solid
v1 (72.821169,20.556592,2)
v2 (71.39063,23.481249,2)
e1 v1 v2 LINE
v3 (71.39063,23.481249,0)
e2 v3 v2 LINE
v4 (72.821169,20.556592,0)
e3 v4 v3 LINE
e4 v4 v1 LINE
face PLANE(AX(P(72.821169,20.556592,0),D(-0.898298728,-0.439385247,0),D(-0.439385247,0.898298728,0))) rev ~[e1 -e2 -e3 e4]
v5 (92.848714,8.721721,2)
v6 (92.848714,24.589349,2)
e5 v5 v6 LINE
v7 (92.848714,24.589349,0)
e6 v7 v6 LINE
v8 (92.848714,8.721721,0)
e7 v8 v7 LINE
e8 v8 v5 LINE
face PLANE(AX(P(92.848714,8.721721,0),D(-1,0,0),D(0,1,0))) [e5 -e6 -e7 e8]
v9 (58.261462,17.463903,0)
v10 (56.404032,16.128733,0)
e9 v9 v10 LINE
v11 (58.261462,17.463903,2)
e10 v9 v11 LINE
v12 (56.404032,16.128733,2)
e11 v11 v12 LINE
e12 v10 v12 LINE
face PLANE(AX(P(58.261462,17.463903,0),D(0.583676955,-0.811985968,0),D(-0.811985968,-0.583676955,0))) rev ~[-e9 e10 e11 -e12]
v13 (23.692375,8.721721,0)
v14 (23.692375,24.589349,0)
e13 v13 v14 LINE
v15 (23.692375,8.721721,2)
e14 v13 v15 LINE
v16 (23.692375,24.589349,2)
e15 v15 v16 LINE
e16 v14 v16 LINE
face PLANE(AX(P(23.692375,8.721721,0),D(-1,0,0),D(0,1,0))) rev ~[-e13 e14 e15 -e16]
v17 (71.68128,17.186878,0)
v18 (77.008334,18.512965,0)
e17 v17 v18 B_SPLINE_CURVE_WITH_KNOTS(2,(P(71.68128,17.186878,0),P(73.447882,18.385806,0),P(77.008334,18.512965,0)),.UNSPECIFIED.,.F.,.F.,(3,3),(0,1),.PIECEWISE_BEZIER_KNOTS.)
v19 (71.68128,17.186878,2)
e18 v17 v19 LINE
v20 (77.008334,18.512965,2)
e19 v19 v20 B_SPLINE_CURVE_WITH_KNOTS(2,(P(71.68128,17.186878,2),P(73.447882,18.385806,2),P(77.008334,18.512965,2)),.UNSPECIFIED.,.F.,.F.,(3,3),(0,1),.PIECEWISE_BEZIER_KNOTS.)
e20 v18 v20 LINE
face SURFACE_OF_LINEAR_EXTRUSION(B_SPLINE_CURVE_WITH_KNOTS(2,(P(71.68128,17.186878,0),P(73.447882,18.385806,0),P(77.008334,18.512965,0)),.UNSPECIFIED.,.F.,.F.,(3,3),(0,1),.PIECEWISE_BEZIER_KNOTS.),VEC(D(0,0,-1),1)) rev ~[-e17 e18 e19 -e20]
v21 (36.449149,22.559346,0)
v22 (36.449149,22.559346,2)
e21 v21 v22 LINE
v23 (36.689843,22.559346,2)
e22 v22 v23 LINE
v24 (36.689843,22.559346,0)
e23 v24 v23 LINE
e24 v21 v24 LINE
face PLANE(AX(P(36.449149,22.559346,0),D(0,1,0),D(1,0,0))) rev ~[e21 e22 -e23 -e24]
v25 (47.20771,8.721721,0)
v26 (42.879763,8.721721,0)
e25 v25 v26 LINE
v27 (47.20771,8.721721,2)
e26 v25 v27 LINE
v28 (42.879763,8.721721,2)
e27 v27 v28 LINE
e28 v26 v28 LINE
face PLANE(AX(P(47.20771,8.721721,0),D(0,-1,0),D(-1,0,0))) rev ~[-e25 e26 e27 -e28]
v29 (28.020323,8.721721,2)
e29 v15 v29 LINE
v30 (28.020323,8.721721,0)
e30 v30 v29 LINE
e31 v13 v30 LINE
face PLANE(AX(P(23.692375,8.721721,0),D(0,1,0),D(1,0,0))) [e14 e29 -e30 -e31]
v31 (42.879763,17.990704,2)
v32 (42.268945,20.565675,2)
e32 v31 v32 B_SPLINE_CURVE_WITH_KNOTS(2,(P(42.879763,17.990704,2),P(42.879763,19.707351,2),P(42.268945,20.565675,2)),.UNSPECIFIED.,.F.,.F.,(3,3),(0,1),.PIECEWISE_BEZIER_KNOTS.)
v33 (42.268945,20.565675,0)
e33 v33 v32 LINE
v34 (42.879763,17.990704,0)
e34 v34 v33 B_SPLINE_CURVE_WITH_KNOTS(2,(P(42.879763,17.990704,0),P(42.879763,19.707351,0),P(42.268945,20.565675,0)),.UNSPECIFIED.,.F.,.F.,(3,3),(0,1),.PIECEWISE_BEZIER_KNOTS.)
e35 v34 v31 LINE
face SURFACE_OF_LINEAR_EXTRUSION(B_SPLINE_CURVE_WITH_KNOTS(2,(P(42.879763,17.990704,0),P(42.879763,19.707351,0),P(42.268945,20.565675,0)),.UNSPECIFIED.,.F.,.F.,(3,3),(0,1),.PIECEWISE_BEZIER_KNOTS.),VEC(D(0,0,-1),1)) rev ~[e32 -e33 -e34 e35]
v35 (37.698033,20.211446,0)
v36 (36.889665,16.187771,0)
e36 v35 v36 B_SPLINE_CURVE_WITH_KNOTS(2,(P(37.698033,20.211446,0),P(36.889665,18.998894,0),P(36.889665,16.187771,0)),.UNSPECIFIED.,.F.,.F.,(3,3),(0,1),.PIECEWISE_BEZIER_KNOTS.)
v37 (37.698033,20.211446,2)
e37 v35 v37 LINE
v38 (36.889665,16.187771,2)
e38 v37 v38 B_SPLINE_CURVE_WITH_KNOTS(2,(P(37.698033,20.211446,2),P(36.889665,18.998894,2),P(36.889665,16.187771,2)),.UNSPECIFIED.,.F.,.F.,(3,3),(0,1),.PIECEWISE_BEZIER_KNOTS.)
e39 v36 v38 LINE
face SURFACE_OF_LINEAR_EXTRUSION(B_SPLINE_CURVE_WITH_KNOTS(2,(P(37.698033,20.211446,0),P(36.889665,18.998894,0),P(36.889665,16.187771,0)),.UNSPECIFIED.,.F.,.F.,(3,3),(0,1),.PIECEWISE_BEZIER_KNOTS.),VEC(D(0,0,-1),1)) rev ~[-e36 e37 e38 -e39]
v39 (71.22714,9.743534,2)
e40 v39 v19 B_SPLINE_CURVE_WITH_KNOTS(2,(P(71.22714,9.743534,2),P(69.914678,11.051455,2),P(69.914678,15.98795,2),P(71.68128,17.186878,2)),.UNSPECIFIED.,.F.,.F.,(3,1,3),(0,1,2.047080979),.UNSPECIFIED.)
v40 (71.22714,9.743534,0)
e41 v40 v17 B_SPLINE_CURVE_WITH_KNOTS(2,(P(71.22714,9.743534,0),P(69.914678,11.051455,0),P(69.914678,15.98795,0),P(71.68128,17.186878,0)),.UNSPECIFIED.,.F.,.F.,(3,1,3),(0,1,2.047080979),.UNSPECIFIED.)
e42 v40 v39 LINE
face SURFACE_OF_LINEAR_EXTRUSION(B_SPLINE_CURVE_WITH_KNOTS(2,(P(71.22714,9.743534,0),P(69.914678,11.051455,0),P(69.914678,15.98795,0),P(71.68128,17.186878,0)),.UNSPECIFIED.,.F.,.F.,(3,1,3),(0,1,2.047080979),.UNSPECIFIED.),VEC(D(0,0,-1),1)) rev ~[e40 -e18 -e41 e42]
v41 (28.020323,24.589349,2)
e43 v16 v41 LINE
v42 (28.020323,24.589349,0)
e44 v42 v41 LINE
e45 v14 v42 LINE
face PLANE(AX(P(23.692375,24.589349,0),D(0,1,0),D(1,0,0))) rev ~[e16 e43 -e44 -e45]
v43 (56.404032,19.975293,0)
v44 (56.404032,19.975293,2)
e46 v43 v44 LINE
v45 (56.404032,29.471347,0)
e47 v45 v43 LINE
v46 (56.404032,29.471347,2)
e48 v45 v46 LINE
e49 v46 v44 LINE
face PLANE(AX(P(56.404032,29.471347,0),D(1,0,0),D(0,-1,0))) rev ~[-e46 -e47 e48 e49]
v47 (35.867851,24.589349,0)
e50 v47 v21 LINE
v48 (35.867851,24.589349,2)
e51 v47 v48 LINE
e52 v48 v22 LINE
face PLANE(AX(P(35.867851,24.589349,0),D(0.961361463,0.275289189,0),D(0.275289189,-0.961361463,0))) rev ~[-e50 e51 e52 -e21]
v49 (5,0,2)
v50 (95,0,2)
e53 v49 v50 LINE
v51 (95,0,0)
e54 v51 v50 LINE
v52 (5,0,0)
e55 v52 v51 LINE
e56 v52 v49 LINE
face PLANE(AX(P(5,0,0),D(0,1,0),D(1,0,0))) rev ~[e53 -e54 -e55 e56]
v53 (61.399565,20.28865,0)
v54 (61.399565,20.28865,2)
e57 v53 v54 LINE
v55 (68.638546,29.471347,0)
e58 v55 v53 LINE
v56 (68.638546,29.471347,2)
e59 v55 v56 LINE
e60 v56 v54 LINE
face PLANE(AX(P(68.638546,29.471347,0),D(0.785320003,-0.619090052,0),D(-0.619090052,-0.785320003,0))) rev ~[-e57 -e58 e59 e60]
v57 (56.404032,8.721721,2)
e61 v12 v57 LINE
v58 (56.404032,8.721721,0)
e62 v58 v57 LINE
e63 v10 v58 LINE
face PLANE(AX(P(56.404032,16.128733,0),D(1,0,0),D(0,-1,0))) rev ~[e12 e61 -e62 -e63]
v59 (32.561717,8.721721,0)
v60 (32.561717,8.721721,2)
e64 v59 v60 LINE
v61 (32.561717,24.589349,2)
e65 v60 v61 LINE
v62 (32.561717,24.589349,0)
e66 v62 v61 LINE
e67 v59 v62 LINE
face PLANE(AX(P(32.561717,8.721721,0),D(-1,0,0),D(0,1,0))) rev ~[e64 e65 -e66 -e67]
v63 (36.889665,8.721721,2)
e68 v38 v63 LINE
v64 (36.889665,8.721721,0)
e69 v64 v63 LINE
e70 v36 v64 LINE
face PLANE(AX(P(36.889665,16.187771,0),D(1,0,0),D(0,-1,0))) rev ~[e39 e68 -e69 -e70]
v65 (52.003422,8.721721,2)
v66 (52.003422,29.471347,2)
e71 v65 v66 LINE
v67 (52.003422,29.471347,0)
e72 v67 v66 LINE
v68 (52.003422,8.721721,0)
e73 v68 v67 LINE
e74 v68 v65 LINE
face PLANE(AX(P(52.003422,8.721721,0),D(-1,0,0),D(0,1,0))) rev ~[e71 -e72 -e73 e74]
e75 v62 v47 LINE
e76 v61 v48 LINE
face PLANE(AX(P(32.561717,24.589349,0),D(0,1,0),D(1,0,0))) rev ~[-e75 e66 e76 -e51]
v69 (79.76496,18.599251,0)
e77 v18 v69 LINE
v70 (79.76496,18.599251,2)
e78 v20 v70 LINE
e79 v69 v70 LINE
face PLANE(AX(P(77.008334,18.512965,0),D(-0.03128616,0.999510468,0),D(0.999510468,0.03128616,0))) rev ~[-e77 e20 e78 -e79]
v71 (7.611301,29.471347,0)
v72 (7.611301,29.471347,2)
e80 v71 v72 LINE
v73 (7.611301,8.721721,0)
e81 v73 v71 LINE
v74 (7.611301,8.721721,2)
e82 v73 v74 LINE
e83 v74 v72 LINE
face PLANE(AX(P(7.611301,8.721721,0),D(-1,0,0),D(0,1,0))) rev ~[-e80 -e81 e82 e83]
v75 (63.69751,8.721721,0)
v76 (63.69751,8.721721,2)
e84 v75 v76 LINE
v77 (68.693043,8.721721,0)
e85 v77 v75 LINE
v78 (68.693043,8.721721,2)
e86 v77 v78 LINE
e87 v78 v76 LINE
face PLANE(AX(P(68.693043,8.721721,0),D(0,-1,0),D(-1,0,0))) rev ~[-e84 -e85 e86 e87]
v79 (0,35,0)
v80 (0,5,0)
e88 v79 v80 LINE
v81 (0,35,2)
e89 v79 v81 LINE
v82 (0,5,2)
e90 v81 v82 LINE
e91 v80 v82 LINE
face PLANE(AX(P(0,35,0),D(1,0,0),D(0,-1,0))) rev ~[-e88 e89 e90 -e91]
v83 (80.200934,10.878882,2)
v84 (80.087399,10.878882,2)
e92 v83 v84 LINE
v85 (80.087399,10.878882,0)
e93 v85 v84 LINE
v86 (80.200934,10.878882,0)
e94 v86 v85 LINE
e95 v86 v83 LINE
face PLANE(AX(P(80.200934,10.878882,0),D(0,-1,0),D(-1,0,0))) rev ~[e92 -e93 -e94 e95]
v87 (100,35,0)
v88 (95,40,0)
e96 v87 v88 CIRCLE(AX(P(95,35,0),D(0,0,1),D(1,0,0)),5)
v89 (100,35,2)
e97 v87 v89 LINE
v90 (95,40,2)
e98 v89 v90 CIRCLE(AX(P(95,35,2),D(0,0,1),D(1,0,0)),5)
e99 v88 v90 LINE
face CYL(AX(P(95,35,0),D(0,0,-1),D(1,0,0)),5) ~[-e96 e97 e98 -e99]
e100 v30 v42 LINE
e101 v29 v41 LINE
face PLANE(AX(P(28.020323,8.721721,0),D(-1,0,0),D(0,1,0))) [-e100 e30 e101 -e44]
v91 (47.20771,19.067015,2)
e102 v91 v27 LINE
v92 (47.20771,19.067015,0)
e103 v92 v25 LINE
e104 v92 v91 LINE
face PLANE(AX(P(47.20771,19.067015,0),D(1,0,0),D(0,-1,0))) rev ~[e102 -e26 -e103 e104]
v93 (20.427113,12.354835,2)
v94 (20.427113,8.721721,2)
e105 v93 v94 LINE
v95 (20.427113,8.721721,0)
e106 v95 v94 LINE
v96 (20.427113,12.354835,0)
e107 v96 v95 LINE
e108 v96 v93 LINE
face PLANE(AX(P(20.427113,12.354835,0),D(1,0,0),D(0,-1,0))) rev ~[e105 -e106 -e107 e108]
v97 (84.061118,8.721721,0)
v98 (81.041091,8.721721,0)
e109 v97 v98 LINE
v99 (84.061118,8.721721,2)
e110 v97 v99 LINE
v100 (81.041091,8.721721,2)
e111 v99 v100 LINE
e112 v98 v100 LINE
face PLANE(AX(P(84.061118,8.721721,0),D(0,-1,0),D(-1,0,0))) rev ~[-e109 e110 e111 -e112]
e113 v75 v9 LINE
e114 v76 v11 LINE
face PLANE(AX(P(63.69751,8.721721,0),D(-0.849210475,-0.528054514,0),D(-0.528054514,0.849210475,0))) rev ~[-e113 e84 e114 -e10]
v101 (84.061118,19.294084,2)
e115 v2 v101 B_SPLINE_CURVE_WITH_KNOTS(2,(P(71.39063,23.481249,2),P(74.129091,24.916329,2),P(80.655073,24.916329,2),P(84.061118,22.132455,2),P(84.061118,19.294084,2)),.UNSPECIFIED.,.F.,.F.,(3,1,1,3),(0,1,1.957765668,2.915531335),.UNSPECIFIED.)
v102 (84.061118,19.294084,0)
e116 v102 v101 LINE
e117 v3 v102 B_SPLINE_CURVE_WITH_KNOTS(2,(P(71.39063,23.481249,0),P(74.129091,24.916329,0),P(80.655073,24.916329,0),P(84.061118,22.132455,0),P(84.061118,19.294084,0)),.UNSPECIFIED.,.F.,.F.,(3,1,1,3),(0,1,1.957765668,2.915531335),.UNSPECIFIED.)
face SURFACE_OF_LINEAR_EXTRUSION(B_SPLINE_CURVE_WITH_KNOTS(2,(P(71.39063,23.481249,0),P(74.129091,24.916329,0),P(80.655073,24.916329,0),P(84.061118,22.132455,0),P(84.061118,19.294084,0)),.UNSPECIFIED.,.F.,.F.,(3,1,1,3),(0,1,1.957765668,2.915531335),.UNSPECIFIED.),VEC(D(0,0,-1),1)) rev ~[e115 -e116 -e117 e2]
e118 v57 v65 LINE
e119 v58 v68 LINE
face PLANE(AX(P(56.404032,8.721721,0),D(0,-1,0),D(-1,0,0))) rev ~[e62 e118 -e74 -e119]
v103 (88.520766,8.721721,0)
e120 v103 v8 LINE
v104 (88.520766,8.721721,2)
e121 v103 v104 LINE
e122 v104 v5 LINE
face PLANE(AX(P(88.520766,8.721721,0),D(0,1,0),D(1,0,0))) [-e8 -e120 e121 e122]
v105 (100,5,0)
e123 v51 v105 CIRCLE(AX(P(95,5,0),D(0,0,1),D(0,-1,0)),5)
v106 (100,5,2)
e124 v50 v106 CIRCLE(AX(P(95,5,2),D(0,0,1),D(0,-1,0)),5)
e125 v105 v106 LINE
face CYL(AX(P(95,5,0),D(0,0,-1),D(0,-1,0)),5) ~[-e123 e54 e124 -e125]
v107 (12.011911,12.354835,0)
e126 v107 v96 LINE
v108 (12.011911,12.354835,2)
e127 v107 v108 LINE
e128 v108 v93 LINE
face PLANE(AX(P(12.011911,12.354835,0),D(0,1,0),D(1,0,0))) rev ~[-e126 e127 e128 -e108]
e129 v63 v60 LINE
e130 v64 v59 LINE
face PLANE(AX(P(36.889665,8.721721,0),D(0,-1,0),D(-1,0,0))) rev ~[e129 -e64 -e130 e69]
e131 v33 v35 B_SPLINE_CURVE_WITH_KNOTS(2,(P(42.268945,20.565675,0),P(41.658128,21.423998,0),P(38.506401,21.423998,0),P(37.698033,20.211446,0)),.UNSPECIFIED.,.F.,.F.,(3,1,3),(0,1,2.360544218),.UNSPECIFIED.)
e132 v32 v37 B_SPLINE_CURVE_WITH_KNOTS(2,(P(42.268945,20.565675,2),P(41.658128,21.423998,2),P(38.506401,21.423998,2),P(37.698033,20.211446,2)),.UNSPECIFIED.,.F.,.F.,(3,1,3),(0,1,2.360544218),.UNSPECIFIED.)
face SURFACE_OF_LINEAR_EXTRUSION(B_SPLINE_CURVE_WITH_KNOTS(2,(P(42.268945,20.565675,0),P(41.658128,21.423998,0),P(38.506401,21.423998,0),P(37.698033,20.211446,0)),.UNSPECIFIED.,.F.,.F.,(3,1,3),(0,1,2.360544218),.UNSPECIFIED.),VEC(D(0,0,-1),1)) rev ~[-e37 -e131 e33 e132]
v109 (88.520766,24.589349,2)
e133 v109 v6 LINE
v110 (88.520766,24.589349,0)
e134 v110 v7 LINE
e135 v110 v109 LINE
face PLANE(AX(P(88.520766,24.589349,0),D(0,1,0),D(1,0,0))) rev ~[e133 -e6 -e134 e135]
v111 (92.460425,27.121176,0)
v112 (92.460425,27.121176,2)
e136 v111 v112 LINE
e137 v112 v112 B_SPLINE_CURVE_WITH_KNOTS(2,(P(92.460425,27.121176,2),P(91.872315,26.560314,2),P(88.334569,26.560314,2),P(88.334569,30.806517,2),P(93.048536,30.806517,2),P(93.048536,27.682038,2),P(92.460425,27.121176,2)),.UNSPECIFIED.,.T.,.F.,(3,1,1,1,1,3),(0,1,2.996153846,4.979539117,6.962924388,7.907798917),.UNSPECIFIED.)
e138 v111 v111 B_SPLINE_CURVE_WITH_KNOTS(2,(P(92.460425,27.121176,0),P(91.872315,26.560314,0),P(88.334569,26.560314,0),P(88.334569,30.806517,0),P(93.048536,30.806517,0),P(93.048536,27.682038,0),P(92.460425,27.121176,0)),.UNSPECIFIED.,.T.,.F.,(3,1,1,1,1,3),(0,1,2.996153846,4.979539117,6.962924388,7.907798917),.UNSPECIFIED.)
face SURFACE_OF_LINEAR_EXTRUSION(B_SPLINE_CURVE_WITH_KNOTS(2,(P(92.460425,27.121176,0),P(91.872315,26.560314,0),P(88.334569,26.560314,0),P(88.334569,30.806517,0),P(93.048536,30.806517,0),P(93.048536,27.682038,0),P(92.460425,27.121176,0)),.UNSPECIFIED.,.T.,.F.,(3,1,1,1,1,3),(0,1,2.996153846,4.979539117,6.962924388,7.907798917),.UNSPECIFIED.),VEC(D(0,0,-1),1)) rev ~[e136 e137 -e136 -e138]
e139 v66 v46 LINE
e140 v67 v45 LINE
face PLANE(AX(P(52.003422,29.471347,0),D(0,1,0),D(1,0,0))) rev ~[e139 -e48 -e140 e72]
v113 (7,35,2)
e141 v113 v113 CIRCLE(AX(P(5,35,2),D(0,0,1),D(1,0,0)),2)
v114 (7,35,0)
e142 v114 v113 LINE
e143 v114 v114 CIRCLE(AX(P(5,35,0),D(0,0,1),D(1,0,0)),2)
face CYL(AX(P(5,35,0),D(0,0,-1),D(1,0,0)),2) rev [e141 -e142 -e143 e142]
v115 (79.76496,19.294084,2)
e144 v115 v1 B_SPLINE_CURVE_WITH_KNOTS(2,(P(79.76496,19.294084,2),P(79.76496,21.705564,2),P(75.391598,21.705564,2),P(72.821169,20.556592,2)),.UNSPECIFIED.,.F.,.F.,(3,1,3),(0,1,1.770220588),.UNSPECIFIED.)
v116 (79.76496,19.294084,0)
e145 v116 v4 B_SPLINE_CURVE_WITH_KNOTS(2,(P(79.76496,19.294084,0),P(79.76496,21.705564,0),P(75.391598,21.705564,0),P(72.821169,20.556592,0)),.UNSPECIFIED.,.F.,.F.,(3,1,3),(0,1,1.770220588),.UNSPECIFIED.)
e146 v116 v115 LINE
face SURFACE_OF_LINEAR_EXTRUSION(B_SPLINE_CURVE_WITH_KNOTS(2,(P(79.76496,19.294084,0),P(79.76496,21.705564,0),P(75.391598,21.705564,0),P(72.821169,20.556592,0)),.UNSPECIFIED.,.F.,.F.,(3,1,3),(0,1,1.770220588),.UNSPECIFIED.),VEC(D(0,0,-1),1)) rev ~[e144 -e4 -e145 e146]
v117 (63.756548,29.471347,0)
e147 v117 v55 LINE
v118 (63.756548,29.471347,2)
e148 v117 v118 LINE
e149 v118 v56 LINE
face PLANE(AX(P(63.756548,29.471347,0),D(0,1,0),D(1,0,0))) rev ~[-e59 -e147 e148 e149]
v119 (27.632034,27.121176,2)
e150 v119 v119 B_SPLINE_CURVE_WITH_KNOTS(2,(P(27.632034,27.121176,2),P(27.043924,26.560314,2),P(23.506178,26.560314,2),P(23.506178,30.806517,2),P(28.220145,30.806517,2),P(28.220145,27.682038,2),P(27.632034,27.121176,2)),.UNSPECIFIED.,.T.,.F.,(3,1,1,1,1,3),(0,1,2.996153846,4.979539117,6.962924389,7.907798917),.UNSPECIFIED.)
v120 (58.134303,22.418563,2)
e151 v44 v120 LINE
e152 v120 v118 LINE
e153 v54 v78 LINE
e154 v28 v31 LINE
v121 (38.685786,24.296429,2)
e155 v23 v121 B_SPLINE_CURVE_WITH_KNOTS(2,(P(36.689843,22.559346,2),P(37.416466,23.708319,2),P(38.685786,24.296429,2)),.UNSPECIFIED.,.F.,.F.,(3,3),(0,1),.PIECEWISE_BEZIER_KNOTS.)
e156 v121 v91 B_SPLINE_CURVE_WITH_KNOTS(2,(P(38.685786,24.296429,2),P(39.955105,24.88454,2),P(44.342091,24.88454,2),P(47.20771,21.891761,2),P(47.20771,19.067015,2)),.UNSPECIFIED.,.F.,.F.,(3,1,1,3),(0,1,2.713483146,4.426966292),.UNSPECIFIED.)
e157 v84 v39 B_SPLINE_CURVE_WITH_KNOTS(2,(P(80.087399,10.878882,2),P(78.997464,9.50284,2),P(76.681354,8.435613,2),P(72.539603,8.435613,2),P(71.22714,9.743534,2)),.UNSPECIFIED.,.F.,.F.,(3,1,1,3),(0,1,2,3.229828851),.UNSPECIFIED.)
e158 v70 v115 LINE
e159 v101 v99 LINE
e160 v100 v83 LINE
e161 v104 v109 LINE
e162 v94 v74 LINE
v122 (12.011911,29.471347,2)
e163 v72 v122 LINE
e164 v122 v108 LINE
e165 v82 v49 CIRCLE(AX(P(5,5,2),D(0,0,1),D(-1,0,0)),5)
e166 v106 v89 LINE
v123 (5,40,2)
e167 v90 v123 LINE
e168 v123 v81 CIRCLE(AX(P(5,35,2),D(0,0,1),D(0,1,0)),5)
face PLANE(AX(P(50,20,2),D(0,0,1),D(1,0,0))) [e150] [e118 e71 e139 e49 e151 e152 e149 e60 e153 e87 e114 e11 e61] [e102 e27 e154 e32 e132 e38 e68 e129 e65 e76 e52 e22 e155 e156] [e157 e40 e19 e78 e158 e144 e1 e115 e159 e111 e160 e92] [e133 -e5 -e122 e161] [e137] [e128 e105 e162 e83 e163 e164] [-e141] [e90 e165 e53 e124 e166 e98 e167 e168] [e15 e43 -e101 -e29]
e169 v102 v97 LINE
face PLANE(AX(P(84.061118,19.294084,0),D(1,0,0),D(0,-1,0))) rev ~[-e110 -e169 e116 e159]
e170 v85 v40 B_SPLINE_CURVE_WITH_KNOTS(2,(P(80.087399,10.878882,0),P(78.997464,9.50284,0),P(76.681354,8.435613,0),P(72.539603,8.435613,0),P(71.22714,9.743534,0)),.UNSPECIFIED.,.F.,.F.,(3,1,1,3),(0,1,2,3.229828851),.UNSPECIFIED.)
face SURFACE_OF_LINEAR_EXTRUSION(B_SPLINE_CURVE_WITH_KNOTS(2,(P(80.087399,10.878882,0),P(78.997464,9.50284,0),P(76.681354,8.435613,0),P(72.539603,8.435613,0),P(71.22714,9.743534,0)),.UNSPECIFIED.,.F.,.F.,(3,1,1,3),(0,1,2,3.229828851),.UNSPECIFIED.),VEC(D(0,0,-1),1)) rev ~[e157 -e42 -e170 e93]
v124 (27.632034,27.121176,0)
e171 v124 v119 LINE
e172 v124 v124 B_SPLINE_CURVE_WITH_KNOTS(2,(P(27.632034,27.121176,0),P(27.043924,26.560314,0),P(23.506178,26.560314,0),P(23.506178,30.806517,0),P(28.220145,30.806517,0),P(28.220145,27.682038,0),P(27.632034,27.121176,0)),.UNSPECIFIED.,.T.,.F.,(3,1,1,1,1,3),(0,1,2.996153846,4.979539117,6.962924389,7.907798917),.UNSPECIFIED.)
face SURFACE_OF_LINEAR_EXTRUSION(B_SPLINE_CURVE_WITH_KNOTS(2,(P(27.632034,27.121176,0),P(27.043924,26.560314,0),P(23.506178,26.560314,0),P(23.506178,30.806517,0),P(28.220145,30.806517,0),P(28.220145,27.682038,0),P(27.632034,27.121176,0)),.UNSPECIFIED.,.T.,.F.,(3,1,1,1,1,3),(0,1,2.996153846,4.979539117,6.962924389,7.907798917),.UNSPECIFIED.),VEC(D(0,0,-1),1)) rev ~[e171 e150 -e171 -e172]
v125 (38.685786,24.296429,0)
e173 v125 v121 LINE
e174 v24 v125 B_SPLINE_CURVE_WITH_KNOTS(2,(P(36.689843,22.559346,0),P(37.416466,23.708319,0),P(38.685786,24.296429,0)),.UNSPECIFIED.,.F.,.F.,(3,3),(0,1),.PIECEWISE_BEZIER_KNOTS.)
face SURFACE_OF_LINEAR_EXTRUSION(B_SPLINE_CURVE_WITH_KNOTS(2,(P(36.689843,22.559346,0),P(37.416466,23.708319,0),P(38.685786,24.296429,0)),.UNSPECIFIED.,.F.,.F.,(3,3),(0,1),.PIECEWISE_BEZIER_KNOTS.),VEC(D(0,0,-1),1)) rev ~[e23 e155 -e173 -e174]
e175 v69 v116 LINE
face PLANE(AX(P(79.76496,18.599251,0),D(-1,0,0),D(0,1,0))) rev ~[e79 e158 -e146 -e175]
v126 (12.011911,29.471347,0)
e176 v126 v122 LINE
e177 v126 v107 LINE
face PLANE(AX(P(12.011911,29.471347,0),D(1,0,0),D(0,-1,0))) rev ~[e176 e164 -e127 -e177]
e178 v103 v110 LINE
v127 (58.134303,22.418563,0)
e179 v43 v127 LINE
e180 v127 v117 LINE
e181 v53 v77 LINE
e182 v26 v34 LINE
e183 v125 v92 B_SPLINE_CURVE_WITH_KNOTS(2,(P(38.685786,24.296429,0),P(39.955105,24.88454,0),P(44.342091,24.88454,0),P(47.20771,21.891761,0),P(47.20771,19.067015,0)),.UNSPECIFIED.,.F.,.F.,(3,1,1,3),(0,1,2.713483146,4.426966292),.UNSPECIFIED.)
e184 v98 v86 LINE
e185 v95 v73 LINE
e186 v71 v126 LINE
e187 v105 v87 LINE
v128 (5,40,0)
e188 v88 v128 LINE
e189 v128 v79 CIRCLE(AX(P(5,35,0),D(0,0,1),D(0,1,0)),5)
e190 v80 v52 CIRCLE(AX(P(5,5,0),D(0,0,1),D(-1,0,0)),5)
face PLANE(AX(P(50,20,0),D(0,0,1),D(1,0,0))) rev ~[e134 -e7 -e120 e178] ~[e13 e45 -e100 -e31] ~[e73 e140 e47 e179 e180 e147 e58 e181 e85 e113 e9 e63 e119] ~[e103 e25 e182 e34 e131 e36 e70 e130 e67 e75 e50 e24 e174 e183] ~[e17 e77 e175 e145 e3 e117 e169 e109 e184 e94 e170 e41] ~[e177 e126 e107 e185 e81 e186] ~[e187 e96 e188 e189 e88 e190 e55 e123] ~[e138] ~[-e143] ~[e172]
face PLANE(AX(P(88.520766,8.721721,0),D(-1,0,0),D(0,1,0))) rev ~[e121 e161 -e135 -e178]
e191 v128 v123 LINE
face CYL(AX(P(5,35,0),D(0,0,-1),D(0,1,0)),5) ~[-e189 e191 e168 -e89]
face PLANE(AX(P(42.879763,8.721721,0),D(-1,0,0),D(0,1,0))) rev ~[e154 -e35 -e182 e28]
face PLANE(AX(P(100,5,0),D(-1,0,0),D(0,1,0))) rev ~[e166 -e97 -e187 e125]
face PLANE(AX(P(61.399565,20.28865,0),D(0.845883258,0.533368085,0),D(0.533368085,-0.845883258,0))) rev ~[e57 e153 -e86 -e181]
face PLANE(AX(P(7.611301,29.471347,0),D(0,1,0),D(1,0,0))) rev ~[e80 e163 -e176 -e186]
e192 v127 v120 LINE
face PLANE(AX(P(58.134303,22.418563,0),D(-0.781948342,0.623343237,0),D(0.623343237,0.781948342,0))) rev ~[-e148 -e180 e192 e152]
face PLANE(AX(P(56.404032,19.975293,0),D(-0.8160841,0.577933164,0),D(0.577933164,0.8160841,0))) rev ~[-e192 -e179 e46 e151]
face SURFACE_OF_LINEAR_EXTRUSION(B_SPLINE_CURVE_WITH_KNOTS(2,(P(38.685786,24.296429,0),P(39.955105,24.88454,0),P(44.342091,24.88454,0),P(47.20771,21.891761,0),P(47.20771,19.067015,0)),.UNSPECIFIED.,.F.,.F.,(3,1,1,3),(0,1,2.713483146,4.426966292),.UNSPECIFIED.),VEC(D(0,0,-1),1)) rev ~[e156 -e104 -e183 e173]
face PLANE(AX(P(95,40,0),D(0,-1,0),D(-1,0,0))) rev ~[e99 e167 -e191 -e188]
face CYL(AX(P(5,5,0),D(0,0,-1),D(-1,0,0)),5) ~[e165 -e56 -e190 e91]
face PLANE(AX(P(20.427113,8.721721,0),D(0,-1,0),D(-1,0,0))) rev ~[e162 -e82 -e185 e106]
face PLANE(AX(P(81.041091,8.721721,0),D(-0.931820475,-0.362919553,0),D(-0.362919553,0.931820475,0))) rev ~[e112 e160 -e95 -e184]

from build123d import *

# Parameters (mm, degrees)
F0_W     = 4.3279479289
F0_H     = 15.8676286083
F0_R     = 2
F1_DEPTH = 2


with BuildPart() as f1:
    # F0 (on Top) → F1 (new body)
    with BuildSketch(Plane.XY):
        with BuildLine():
            ThreePointArc((0, 5), (1.4644660941, 1.4644660941), (5, 0))
            Line((5, 0), (95, 0))
            ThreePointArc((95, 0), (98.5355339059, 1.4644660941), (100, 5))
            Line((100, 5), (100, 35))
            ThreePointArc((100, 35), (98.5355339059, 38.5355339059), (95, 40))
            Line((95, 40), (5, 40))
            ThreePointArc((5, 40), (1.4644660941, 38.5355339059), (0, 35))
            Line((0, 35), (0, 5))
        make_face()
        Polygon((20.4271134466, 8.7217205013), (7.6113012163, 8.7217205013), (7.6113012163, 29.4713470357), (12.0119114399, 29.4713470357), (12.0119114399, 12.3548352371), (20.4271134466, 12.3548352371), align=None, mode=Mode.SUBTRACT)
        with Locations((25.8563492798, 16.6555348055)):
            Rectangle(F0_W, F0_H, mode=Mode.SUBTRACT)
        with BuildLine():
            Line((47.2077104423, 19.0670147113), (47.2077104423, 8.7217205013))
            Line((47.2077104423, 8.7217205013), (42.8797625133, 8.7217205013))
            Line((42.8797625133, 8.7217205013), (42.8797625133, 17.9907044709))
            add(Edge.make_bspline(
                [(42.8797625133, 17.9907044709), (42.8797625133, 19.7073511835), (42.2689450984, 20.5656745398)],
                knots=[0, 0, 0, 1, 1, 1], degree=2))
            add(Edge.make_bspline(
                [(42.2689450984, 20.5656745398), (41.6581276834, 21.4239978961), (40.3229580181, 21.4239978961)],
                knots=[0, 0, 0, 1, 1, 1], degree=2))
            add(Edge.make_bspline(
                [(40.3229580181, 21.4239978961), (38.5064006502, 21.4239978961), (37.6980326215, 20.2114458531)],
                knots=[0, 0, 0, 1, 1, 1], degree=2))
            add(Edge.make_bspline(
                [(37.6980326215, 20.2114458531), (36.8896645928, 18.99889381), (36.8896645928, 16.1877712833)],
                knots=[0, 0, 0, 1, 1, 1], degree=2))
            Line((36.8896645928, 16.1877712833), (36.8896645928, 8.7217205013))
            Line((36.8896645928, 8.7217205013), (32.5617166639, 8.7217205013))
            Line((32.5617166639, 8.7217205013), (32.5617166639, 24.5893491096))
            Line((32.5617166639, 24.5893491096), (35.8678510734, 24.5893491096))
            Line((35.8678510734, 24.5893491096), (36.4491494311, 22.559346251))
            Line((36.4491494311, 22.559346251), (36.6898432823, 22.559346251))
            add(Edge.make_bspline(
                [(36.6898432823, 22.559346251), (37.4164662295, 23.7083187862), (38.6857856903, 24.296429234)],
                knots=[0, 0, 0, 1, 1, 1], degree=2))
            add(Edge.make_bspline(
                [(38.6857856903, 24.296429234), (39.9551051511, 24.8845396819), (41.5718412085, 24.8845396819)],
                knots=[0, 0, 0, 1, 1, 1], degree=2))
            add(Edge.make_bspline(
                [(41.5718412085, 24.8845396819), (44.3420911945, 24.8845396819), (45.7749008184, 23.3881505501)],
                knots=[0, 0, 0, 1, 1, 1], degree=2))
            add(Edge.make_bspline(
                [(45.7749008184, 23.3881505501), (47.2077104423, 21.8917614183), (47.2077104423, 19.0670147113)],
                knots=[0, 0, 0, 1, 1, 1], degree=2))
        make_face(mode=Mode.SUBTRACT)
        Polygon((61.3995648787, 20.2886495412), (68.6930427106, 8.7217205013), (63.697509949, 8.7217205013), (58.2614620257, 17.4639028342), (56.4040321171, 16.1287331688), (56.4040321171, 8.7217205013), (52.0034218934, 8.7217205013), (52.0034218934, 29.4713470357), (56.4040321171, 29.4713470357), (56.4040321171, 19.9752933952), (58.1343030099, 22.418563055), (63.7565480635, 29.4713470357), (68.6385459896, 29.4713470357), align=None, mode=Mode.SUBTRACT)
        with BuildLine():
            Line((84.0611180428, 8.7217205013), (81.0410914187, 8.7217205013))
            Line((81.0410914187, 8.7217205013), (80.200933636, 10.8788823757))
            Line((80.200933636, 10.8788823757), (80.0873988006, 10.8788823757))
            add(Edge.make_bspline(
                [(80.0873988006, 10.8788823757), (78.9974643798, 9.5028401695), (77.8394090578, 8.9692264427)],
                knots=[0, 0, 0, 1, 1, 1], degree=2))
            add(Edge.make_bspline(
                [(77.8394090578, 8.9692264427), (76.6813537358, 8.4356127159), (74.8239238272, 8.4356127159)],
                knots=[0, 0, 0, 1, 1, 1], degree=2))
            add(Edge.make_bspline(
                [(74.8239238272, 8.4356127159), (72.5396029371, 8.4356127159), (71.2271402388, 9.7435340208)],
                knots=[0, 0, 0, 1, 1, 1], degree=2))
            add(Edge.make_bspline(
                [(71.2271402388, 9.7435340208), (69.9146775405, 11.0514553256), (69.9146775405, 13.4629352315)],
                knots=[0, 0, 0, 1, 1, 1], degree=2))
            add(Edge.make_bspline(
                [(69.9146775405, 13.4629352315), (69.9146775405, 15.9879499728), (71.6812795808, 17.1868778356)],
                knots=[0, 0, 0, 1, 1, 1], degree=2))
            add(Edge.make_bspline(
                [(71.6812795808, 17.1868778356), (73.447881621, 18.3858056984), (77.008334062, 18.5129647141)],
                knots=[0, 0, 0, 1, 1, 1], degree=2))
            Line((77.008334062, 18.5129647141), (79.7649598678, 18.5992511891))
            Line((79.7649598678, 18.5992511891), (79.7649598678, 19.2940843823))
            add(Edge.make_bspline(
                [(79.7649598678, 19.2940843823), (79.7649598678, 21.7055642881), (77.2944418475, 21.7055642881)],
                knots=[0, 0, 0, 1, 1, 1], degree=2))
            add(Edge.make_bspline(
                [(77.2944418475, 21.7055642881), (75.3915980046, 21.7055642881), (72.8211693291, 20.556591753)],
                knots=[0, 0, 0, 1, 1, 1], degree=2))
            Line((72.8211693291, 20.556591753), (71.3906304019, 23.4812491152))
            add(Edge.make_bspline(
                [(71.3906304019, 23.4812491152), (74.129090634, 24.9163294358), (77.462473404, 24.9163294358)],
                knots=[0, 0, 0, 1, 1, 1], degree=2))
            add(Edge.make_bspline(
                [(77.462473404, 24.9163294358), (80.655072978, 24.9163294358), (82.3580955104, 23.5243923527)],
                knots=[0, 0, 0, 1, 1, 1], degree=2))
            add(Edge.make_bspline(
                [(82.3580955104, 23.5243923527), (84.0611180428, 22.1324552696), (84.0611180428, 19.2940843823)],
                knots=[0, 0, 0, 1, 1, 1], degree=2))
            Line((84.0611180428, 19.2940843823), (84.0611180428, 8.7217205013))
        make_face(mode=Mode.SUBTRACT)
        with Locations((90.6847403453, 16.6555348055)):
            Rectangle(F0_W, F0_H, mode=Mode.SUBTRACT)
        with BuildLine():
            add(Edge.make_bspline(
                [(25.8631613699, 26.5603138537), (23.5061781851, 26.5603138537), (23.5061781851, 28.6902273676)],
                knots=[0, 0, 0, 1, 1, 1], degree=2))
            add(Edge.make_bspline(
                [(23.5061781851, 28.6902273676), (23.5061781851, 30.8065167011), (25.8631613699, 30.8065167011)],
                knots=[0, 0, 0, 1, 1, 1], degree=2))
            add(Edge.make_bspline(
                [(25.8631613699, 30.8065167011), (28.2201445547, 30.8065167011), (28.2201445547, 28.6902273676)],
                knots=[0, 0, 0, 1, 1, 1], degree=2))
            add(Edge.make_bspline(
                [(28.2201445547, 28.6902273676), (28.2201445547, 27.6820380284), (27.6320341068, 27.1211759411)],
                knots=[0, 0, 0, 1, 1, 1], degree=2))
            add(Edge.make_bspline(
                [(27.6320341068, 27.1211759411), (27.043923659, 26.5603138537), (25.8631613699, 26.5603138537)],
                knots=[0, 0, 0, 1, 1, 1], degree=2))
        make_face(mode=Mode.SUBTRACT)
        with Locations((5, 35)):
            Circle(F0_R, mode=Mode.SUBTRACT)
        with BuildLine():
            add(Edge.make_bspline(
                [(90.6915524354, 26.5603138537), (88.3345692506, 26.5603138537), (88.3345692506, 28.6902273676)],
                knots=[0, 0, 0, 1, 1, 1], degree=2))
            add(Edge.make_bspline(
                [(88.3345692506, 28.6902273676), (88.3345692506, 30.8065167011), (90.6915524354, 30.8065167011)],
                knots=[0, 0, 0, 1, 1, 1], degree=2))
            add(Edge.make_bspline(
                [(90.6915524354, 30.8065167011), (93.0485356202, 30.8065167011), (93.0485356202, 28.6902273676)],
                knots=[0, 0, 0, 1, 1, 1], degree=2))
            add(Edge.make_bspline(
                [(93.0485356202, 28.6902273676), (93.0485356202, 27.6820380284), (92.4604251724, 27.1211759411)],
                knots=[0, 0, 0, 1, 1, 1], degree=2))
            add(Edge.make_bspline(
                [(92.4604251724, 27.1211759411), (91.8723147246, 26.5603138537), (90.6915524354, 26.5603138537)],
                knots=[0, 0, 0, 1, 1, 1], degree=2))
        make_face(mode=Mode.SUBTRACT)
    extrude(amount=F1_DEPTH)


solid = f1.part
